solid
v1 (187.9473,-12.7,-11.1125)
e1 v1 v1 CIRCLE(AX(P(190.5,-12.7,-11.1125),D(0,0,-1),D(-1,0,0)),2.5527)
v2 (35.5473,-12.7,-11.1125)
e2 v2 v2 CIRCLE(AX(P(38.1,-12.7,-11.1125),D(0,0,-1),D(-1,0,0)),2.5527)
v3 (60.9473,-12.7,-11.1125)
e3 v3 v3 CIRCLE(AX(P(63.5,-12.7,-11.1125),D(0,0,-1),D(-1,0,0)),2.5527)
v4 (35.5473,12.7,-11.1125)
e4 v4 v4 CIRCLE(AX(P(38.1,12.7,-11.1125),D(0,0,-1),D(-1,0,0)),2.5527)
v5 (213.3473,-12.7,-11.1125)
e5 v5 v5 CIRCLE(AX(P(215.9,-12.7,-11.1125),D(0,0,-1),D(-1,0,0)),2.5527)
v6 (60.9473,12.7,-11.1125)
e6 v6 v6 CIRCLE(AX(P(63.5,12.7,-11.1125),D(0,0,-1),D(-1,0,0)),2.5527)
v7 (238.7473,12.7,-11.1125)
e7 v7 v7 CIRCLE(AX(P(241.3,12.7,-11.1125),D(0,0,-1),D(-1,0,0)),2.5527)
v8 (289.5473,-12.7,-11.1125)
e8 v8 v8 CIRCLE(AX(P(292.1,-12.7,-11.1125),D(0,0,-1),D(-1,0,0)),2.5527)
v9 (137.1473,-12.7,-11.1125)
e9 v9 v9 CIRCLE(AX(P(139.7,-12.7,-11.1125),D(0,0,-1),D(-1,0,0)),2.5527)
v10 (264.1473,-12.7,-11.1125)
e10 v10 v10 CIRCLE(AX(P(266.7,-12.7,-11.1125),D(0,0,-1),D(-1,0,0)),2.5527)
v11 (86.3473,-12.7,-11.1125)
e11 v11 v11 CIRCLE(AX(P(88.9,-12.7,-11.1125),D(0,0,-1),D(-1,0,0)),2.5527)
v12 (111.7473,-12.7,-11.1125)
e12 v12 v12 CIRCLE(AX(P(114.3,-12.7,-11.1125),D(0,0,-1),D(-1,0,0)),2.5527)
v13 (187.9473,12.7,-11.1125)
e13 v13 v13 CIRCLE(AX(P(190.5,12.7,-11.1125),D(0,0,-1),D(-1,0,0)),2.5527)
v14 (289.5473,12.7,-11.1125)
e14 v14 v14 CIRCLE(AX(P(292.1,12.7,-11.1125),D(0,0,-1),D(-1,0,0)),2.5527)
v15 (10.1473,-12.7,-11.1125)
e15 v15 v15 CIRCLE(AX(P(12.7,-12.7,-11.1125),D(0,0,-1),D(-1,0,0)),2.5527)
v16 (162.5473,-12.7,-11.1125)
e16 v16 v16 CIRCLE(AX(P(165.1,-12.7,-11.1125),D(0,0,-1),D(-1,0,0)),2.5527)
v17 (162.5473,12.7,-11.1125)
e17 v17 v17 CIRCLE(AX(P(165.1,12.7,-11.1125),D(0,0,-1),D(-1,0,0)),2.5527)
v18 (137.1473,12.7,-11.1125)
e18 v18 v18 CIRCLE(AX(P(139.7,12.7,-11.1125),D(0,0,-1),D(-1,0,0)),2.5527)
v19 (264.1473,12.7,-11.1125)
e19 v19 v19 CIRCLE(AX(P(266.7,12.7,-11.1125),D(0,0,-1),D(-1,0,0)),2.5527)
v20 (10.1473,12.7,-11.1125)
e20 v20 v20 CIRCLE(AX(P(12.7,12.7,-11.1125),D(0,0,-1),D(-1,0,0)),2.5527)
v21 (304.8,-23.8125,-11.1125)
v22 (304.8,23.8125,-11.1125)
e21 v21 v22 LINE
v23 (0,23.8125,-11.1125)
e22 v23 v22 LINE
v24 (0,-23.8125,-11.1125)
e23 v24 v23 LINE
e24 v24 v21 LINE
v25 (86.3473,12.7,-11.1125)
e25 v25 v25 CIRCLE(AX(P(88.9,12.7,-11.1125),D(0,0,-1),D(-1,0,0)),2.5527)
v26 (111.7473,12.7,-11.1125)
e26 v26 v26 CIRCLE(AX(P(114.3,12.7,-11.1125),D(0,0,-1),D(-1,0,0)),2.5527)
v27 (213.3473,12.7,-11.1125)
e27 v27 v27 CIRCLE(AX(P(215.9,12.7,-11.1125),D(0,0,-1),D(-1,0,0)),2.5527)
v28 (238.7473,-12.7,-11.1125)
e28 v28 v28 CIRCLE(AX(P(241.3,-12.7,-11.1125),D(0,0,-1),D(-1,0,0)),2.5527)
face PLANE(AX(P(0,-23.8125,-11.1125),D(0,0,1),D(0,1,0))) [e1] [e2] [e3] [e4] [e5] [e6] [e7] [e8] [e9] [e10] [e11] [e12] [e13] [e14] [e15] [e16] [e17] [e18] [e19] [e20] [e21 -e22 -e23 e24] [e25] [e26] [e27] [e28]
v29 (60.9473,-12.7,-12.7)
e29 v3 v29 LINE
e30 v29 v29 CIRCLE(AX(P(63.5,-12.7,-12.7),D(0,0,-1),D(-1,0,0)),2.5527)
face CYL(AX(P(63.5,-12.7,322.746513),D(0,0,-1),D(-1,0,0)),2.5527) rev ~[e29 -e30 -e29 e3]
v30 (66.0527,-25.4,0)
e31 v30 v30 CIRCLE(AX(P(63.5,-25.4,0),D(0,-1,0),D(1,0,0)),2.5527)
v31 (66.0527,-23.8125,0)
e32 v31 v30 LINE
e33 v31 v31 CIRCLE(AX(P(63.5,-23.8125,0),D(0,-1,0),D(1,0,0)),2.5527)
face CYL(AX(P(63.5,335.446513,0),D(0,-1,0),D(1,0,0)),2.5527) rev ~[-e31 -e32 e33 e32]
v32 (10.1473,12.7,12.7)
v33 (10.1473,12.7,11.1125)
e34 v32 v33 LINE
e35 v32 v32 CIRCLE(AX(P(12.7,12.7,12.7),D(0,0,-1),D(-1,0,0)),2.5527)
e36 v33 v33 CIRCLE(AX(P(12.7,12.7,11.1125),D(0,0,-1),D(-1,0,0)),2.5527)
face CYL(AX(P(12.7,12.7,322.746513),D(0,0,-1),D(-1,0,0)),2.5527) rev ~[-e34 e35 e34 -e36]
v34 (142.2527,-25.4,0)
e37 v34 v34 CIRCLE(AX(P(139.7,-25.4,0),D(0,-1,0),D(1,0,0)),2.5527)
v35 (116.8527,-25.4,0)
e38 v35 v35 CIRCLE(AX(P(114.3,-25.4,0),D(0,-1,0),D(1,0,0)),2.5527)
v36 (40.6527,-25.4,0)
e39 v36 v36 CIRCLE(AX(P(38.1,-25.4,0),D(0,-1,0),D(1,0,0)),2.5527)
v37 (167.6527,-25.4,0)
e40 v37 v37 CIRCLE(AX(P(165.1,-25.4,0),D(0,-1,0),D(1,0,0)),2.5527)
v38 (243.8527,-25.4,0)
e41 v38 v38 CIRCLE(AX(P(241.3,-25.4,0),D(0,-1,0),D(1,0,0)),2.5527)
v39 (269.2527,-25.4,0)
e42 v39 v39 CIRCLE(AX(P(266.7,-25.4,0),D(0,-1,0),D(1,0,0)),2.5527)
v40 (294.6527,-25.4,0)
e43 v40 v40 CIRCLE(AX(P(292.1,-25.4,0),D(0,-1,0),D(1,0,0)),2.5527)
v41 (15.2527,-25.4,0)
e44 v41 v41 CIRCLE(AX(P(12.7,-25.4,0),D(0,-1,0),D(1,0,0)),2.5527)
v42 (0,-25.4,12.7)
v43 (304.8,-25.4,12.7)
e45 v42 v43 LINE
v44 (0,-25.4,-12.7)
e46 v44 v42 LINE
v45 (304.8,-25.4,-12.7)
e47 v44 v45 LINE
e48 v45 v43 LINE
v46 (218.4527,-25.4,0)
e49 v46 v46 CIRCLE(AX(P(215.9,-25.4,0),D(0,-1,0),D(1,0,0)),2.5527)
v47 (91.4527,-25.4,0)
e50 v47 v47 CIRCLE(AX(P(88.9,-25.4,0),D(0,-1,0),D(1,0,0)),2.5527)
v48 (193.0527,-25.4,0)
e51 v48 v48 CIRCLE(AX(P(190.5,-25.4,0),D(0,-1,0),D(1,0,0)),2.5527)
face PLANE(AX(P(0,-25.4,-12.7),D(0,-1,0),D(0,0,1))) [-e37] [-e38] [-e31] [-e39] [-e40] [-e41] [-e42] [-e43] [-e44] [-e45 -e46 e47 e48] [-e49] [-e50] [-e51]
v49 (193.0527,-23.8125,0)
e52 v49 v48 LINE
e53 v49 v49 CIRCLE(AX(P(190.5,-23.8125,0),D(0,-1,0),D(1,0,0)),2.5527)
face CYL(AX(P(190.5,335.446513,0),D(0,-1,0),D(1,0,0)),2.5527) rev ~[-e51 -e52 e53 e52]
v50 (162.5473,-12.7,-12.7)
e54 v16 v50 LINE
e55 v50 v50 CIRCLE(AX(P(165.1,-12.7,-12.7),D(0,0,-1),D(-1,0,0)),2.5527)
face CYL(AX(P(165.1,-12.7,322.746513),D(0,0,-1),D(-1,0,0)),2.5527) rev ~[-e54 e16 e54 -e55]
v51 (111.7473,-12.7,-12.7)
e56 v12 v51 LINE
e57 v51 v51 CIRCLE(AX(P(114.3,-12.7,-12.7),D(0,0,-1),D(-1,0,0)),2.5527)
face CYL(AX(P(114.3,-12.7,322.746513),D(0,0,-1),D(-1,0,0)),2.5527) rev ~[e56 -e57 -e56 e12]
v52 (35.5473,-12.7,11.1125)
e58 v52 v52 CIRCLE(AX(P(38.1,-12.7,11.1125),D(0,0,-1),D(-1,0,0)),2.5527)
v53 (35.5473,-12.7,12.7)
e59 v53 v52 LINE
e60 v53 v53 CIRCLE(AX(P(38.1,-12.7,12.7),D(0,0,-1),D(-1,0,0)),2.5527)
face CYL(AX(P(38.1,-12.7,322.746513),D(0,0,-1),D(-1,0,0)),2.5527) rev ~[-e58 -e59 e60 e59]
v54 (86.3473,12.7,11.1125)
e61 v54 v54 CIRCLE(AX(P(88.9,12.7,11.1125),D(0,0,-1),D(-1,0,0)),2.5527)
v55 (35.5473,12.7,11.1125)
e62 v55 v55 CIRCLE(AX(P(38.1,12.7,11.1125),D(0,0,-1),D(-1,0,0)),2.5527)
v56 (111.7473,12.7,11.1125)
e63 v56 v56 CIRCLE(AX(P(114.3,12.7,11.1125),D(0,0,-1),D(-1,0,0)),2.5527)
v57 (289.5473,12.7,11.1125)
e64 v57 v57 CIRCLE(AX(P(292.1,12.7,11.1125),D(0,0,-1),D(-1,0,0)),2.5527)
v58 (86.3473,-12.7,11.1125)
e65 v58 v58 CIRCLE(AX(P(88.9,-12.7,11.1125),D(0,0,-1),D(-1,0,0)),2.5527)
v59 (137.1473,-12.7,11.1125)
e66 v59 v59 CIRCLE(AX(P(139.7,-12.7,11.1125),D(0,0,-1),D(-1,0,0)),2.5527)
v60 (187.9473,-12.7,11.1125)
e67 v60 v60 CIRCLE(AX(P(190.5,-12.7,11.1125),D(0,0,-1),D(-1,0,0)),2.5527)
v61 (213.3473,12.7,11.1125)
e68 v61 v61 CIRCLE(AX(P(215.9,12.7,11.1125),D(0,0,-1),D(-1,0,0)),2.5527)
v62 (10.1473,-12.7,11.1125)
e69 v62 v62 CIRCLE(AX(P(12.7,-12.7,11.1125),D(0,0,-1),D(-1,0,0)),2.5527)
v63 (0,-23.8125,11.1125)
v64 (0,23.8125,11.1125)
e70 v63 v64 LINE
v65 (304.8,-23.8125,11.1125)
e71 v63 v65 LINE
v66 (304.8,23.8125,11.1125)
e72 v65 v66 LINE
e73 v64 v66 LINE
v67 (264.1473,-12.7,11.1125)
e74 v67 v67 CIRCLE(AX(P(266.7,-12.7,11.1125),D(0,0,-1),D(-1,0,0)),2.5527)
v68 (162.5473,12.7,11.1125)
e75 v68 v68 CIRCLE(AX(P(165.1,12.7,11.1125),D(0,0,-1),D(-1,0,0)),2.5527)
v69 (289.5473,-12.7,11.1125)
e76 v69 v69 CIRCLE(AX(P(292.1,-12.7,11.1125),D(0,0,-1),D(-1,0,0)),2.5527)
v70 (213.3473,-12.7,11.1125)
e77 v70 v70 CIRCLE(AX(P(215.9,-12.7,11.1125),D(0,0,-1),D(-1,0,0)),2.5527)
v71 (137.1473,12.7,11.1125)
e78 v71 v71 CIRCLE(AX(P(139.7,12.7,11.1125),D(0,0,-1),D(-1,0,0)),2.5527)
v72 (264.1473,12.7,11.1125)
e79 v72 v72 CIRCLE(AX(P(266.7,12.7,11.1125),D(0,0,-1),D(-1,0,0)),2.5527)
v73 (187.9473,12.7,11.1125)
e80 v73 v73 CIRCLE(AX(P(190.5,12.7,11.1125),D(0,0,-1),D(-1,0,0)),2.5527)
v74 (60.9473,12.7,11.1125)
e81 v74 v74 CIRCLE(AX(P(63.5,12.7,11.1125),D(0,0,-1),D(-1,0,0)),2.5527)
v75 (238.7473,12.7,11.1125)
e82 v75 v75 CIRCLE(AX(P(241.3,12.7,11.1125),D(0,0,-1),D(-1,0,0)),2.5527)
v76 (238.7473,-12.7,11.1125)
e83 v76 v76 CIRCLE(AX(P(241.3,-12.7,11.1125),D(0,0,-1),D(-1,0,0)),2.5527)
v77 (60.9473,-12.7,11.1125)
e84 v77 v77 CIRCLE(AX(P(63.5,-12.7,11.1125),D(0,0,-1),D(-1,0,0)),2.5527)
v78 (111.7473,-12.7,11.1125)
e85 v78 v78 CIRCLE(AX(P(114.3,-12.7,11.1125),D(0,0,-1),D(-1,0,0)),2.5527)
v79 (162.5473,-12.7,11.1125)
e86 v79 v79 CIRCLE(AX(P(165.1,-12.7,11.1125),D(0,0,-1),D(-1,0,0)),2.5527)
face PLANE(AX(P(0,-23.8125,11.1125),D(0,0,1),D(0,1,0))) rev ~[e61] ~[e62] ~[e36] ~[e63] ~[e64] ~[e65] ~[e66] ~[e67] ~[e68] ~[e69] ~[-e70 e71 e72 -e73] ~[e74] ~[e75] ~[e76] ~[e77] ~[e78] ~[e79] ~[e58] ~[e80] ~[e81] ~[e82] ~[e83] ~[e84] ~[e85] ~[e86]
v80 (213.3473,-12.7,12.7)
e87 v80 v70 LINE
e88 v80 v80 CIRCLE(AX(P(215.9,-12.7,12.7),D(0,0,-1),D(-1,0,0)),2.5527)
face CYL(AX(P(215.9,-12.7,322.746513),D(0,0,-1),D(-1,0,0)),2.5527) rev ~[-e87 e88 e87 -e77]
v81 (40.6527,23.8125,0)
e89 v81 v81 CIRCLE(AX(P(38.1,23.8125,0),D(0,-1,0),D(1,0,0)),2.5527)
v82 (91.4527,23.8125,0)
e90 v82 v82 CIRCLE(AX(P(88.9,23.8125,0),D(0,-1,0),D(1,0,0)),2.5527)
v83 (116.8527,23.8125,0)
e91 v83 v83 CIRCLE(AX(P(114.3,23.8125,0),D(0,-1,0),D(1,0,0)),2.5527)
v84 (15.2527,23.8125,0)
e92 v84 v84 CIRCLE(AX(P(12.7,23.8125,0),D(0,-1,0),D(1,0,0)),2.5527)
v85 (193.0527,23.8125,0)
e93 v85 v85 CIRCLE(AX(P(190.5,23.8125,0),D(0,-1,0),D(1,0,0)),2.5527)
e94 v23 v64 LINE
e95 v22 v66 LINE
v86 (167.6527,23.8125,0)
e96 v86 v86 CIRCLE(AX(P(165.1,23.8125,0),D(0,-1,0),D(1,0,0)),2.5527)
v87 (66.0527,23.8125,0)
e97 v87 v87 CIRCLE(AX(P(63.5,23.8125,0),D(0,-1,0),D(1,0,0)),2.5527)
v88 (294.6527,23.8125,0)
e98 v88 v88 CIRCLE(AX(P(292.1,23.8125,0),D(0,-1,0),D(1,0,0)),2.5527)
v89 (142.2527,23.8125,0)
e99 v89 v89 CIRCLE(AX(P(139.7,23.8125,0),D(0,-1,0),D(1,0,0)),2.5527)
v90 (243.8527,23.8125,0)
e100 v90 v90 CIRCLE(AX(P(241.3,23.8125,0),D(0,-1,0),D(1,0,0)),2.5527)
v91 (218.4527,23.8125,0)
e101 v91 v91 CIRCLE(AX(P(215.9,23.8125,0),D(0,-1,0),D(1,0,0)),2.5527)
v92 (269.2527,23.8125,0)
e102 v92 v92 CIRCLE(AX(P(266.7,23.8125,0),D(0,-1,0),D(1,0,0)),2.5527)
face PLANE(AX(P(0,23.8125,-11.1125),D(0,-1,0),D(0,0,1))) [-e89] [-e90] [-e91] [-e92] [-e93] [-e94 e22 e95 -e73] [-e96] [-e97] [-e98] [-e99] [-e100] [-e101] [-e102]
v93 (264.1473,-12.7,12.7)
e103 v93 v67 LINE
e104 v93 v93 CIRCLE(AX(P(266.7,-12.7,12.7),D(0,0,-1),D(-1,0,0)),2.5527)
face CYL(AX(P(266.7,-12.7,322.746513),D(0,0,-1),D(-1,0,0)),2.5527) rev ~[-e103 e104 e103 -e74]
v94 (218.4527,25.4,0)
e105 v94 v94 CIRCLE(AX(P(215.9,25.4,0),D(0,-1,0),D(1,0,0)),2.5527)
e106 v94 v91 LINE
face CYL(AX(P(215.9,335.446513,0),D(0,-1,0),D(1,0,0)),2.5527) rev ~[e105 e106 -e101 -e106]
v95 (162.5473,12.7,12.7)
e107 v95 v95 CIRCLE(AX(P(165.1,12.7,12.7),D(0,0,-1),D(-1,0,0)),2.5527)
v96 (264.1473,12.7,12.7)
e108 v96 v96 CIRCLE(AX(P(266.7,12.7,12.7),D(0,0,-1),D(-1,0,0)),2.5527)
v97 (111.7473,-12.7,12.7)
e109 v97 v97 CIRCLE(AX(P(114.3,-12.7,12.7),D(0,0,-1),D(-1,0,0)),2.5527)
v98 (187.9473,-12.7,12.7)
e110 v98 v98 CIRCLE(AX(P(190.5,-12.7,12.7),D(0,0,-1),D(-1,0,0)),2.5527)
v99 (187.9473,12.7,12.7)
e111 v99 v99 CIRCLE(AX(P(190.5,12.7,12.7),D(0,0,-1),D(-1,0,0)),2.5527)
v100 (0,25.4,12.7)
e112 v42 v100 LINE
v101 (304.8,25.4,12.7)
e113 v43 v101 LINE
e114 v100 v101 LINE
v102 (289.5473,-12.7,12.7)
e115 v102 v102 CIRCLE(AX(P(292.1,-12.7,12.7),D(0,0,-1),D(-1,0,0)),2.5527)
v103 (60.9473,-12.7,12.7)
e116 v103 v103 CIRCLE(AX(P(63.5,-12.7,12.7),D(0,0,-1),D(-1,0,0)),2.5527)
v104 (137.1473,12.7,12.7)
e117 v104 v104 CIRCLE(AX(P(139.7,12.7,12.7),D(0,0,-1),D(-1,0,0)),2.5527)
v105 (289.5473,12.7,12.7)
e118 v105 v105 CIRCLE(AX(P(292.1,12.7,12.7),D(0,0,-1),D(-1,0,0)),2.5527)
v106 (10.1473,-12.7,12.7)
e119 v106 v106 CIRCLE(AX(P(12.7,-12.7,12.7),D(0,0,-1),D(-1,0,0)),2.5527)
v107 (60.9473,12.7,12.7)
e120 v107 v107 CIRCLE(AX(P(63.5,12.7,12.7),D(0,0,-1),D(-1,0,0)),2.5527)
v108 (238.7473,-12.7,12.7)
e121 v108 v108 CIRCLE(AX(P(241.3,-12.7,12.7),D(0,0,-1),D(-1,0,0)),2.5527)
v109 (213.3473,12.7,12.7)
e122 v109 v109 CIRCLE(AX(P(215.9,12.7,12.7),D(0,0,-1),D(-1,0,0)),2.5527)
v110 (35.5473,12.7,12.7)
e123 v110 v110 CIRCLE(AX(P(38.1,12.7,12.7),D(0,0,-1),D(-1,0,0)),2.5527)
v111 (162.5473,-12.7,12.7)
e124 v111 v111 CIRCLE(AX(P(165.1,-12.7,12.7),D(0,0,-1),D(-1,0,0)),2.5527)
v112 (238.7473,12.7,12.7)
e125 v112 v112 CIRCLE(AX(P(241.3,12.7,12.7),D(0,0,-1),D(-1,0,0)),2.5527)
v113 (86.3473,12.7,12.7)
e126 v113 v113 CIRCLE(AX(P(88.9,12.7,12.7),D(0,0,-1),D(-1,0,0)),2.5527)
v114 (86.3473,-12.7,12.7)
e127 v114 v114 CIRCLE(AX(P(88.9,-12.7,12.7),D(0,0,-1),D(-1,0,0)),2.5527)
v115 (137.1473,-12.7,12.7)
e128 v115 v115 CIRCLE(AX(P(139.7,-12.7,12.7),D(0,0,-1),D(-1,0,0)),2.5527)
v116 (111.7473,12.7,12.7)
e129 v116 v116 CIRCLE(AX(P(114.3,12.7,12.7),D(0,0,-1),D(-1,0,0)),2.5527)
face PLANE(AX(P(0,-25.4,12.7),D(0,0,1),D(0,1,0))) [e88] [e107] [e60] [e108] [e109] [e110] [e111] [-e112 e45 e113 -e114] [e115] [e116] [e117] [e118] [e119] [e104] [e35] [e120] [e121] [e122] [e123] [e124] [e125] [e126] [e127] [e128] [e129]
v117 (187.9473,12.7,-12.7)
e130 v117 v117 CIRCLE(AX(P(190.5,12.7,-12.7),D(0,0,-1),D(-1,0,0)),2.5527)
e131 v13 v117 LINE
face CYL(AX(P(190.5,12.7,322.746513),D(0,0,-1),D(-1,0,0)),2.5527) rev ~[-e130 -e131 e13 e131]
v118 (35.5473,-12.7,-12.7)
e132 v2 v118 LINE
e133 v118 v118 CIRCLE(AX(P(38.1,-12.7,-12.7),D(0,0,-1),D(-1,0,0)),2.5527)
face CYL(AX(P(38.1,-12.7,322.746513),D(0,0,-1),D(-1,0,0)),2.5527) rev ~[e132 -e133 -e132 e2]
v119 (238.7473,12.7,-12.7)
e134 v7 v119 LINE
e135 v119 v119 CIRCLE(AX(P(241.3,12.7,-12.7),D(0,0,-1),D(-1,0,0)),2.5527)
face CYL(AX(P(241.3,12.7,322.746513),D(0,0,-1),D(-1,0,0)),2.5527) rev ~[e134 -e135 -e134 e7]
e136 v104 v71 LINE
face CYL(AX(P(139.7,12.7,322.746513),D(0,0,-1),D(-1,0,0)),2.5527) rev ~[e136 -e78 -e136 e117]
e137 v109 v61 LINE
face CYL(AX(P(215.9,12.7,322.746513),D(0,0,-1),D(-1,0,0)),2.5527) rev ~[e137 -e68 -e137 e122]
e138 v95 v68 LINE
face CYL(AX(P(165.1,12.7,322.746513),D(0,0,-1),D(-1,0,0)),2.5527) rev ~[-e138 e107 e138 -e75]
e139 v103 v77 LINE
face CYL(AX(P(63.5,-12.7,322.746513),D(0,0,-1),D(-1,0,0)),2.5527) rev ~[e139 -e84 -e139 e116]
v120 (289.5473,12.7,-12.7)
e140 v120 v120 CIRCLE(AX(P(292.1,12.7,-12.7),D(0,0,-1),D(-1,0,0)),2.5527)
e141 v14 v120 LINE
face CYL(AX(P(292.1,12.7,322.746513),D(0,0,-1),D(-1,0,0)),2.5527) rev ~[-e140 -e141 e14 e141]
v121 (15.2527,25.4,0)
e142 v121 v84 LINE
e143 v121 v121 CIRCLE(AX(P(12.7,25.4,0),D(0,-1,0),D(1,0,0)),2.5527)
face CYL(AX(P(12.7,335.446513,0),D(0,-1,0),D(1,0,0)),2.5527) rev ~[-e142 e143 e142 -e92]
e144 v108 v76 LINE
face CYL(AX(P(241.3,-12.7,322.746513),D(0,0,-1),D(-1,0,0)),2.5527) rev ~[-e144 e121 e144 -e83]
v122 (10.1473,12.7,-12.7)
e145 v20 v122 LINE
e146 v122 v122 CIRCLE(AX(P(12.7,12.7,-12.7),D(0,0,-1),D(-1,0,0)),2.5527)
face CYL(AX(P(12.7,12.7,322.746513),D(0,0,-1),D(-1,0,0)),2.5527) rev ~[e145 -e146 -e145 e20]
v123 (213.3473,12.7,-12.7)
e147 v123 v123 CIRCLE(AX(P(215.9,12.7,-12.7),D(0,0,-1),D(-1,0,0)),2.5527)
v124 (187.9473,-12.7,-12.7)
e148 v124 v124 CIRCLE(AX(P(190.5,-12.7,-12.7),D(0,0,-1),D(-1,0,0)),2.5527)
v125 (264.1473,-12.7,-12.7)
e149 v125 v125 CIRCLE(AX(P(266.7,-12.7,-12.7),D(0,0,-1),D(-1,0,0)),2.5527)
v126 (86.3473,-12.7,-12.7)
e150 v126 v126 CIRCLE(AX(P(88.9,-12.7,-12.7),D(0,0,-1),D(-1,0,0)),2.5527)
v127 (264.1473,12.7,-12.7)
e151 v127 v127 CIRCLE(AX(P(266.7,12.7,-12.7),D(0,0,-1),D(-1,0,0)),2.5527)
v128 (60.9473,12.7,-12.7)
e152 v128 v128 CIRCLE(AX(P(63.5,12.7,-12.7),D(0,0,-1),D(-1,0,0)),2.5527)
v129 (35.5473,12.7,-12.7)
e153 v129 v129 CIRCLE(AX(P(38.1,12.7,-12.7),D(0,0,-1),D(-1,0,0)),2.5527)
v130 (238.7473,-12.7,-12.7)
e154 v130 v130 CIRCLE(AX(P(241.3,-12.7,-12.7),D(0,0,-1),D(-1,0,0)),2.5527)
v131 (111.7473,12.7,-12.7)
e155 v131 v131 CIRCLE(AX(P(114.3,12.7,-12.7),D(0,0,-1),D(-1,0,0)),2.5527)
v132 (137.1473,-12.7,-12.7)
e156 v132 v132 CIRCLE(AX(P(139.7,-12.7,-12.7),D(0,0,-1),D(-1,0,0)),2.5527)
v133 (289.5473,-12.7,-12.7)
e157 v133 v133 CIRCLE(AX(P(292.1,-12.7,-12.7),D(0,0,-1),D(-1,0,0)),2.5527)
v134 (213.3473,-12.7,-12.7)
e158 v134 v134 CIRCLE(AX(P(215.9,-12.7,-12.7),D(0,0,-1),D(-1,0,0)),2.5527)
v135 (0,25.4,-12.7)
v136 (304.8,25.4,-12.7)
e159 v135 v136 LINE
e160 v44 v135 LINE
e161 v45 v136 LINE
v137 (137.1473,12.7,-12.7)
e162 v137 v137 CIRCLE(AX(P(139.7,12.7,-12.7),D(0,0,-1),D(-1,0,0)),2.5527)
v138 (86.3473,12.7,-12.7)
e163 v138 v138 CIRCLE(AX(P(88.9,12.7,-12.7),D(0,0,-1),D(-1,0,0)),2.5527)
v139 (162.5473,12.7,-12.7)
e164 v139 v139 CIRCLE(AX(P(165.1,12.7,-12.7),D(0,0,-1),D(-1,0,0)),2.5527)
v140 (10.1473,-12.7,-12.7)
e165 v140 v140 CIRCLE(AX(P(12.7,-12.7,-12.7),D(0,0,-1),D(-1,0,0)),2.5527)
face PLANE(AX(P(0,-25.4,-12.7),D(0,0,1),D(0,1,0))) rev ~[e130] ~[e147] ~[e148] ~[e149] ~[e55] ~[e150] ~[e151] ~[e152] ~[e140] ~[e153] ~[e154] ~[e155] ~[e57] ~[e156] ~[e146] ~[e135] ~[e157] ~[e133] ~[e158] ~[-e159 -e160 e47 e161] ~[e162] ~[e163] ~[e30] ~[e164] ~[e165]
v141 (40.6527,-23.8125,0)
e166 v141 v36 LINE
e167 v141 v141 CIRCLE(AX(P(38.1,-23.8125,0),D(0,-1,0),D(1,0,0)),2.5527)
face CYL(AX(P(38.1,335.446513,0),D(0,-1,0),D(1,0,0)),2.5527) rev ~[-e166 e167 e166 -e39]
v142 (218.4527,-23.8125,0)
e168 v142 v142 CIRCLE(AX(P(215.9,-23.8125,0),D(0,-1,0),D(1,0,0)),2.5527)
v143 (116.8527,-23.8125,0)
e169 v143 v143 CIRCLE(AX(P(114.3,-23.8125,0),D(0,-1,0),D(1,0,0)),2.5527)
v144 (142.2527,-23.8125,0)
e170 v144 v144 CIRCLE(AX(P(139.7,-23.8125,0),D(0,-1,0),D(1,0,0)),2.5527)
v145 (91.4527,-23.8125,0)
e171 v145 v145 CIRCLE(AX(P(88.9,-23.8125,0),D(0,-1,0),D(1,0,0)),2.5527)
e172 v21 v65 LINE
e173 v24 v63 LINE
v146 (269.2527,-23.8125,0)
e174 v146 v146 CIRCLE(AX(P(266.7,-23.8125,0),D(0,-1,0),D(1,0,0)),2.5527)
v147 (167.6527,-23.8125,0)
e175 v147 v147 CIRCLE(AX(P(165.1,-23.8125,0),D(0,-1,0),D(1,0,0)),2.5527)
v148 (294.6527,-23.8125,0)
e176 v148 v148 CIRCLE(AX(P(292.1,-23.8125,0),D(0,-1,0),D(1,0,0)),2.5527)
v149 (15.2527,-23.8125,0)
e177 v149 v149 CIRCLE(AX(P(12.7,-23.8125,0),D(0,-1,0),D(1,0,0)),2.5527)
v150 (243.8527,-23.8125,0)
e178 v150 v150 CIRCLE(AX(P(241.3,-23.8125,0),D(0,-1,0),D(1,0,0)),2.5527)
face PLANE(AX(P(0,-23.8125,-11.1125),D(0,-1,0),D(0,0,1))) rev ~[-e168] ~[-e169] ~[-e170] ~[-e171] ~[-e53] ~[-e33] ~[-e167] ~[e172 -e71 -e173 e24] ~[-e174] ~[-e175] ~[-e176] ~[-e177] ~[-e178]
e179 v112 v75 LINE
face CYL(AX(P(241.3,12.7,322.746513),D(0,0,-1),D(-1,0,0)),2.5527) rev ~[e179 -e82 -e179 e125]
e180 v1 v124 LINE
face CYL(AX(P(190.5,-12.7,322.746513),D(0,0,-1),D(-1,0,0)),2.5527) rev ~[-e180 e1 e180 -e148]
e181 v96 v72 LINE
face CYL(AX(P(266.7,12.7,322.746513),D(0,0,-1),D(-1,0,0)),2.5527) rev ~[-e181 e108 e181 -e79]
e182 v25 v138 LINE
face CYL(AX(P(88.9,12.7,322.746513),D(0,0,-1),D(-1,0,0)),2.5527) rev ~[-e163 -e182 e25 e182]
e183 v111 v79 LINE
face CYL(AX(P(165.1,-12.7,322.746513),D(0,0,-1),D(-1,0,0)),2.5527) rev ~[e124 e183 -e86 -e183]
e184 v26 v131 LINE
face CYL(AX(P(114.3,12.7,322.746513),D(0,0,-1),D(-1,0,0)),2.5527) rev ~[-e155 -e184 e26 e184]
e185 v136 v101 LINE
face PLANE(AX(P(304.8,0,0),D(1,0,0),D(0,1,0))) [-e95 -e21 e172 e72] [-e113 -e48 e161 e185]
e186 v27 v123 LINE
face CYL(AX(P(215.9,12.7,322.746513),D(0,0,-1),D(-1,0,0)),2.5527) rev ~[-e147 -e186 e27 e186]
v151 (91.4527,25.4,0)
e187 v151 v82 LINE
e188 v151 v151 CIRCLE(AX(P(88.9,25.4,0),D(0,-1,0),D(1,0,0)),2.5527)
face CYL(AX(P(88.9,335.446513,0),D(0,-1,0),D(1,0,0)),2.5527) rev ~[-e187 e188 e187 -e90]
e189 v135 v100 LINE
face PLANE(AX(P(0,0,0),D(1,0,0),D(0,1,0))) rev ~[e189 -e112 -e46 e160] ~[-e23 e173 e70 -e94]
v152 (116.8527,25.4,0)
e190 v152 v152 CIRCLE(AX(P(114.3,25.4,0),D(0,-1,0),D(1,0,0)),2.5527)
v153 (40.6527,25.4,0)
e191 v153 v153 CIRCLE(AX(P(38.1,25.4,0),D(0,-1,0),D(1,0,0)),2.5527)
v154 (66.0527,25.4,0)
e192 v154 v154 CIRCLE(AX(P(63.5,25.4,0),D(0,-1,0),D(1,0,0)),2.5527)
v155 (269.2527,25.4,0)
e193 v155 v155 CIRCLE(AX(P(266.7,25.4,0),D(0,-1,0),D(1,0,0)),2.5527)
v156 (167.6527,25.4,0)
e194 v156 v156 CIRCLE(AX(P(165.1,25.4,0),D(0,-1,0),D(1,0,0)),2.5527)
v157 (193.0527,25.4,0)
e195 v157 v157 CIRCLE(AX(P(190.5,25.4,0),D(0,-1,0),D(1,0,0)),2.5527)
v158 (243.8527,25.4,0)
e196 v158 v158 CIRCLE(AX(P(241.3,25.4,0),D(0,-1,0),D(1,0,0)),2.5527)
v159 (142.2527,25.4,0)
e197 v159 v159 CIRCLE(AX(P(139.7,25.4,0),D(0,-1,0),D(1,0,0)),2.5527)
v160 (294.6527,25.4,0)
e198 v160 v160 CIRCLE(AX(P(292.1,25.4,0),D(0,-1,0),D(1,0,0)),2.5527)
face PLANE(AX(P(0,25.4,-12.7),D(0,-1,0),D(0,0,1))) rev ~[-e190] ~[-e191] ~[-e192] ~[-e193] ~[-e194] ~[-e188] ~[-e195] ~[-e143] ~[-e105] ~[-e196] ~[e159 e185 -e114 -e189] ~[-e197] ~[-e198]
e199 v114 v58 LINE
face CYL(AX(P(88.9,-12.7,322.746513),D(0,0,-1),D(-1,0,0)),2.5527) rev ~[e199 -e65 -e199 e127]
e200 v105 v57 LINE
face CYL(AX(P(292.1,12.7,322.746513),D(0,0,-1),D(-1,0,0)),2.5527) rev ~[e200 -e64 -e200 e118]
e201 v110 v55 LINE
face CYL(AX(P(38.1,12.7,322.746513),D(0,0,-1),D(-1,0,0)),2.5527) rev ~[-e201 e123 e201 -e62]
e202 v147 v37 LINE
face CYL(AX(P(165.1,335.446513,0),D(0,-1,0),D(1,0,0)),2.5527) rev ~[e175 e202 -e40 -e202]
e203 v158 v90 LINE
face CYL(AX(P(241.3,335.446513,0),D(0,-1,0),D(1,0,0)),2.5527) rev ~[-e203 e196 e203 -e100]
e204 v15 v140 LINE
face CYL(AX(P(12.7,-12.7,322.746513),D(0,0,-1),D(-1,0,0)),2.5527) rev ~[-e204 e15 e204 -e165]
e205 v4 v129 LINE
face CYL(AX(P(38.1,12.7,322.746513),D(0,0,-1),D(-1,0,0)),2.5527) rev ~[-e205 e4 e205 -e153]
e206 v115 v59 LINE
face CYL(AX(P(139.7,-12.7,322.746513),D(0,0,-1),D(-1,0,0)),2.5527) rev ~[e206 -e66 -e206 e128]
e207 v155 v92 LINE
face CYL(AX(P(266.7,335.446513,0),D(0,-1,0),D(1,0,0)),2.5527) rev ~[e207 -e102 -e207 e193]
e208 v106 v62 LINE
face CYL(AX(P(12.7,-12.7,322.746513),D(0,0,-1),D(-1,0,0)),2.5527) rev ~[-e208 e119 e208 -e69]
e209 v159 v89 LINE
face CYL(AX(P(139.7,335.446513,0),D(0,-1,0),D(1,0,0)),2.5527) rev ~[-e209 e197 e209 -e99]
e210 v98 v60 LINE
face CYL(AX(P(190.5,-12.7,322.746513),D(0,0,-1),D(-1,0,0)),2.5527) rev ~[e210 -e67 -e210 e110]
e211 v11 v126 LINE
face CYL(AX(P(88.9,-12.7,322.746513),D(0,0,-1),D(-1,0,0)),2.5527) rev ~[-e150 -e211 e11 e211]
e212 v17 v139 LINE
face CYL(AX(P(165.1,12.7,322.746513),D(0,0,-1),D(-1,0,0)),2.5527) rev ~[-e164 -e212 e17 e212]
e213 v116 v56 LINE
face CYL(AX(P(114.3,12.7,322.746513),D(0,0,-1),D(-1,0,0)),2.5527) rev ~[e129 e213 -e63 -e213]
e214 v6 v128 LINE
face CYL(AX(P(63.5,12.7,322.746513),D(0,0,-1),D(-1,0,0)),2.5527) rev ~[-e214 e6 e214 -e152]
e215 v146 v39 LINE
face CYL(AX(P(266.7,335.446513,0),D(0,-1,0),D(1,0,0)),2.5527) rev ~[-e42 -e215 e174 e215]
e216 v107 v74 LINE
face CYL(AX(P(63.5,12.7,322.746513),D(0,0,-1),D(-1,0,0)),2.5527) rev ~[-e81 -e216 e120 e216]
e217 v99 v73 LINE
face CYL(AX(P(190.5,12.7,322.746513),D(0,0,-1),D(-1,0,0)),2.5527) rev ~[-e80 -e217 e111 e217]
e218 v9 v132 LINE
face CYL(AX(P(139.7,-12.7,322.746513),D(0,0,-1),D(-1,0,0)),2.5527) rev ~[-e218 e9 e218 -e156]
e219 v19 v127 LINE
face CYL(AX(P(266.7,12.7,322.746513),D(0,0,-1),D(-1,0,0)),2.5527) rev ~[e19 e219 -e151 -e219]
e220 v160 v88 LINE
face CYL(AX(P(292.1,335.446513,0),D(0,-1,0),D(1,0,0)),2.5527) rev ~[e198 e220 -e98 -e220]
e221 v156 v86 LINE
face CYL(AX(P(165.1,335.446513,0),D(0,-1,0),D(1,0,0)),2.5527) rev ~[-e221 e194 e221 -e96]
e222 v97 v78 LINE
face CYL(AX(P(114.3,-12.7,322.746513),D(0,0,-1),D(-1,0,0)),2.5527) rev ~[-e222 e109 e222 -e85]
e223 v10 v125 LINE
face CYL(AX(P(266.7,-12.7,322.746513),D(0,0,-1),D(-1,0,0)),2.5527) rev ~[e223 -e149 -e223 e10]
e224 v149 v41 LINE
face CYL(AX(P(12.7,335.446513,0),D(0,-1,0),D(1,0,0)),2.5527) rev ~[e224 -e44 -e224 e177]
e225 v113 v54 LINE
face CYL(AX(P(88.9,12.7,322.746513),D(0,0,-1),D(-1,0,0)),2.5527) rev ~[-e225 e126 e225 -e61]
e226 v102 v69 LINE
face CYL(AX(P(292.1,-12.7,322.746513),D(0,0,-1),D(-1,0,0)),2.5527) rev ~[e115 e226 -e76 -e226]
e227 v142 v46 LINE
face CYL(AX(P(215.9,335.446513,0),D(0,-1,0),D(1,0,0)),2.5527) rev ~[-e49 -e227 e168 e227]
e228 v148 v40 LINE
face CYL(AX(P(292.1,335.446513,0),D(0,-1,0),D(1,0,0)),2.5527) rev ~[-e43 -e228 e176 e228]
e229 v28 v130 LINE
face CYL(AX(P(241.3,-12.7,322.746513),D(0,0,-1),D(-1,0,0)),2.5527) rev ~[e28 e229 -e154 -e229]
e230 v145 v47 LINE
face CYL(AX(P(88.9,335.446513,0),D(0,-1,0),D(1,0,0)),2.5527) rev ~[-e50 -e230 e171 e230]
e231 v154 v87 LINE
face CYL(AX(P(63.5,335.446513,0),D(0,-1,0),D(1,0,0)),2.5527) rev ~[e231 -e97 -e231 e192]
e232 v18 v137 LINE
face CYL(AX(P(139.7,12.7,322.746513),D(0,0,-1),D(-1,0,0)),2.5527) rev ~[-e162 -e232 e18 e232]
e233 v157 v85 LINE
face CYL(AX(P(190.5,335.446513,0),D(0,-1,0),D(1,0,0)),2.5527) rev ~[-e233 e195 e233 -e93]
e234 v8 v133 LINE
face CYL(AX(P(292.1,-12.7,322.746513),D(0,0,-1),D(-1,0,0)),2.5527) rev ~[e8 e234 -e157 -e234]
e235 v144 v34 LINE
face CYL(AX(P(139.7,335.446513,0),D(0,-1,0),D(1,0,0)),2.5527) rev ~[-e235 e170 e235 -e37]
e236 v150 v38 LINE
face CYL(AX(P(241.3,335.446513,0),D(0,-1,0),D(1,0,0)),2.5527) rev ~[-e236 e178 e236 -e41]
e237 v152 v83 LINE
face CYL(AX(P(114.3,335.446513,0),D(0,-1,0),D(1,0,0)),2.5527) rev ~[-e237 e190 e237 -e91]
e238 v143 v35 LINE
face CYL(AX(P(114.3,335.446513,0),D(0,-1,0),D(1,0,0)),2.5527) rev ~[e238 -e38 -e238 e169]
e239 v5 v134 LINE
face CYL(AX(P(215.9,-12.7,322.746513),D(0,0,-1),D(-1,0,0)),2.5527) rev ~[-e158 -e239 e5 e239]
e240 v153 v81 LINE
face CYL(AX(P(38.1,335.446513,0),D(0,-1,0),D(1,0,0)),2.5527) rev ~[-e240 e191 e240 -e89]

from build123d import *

# Parameters (mm, degrees)
F0_W     = 50.8
F0_H     = 25.4
F0_W_2   = 47.625
F0_H_2   = 22.225
F1_DEPTH = 304.8
F3_D     = 5.1054
F5_D     = 5.1054


with BuildPart() as f1:
    # F0 (on Right) → F1 (new body)
    with BuildSketch(Plane.YZ):
        Rectangle(F0_W, F0_H)
        Rectangle(F0_W_2, F0_H_2, mode=Mode.SUBTRACT)
    extrude(amount=F1_DEPTH)

    # F3 (through all)
    with Locations(Plane.XY.offset(12.7)):
        with Locations((38.1, -12.7), (63.5, 12.7), (63.5, -12.7), (88.9, 12.7), (88.9, -12.7), (114.3, 12.7), (292.1, -12.7), (266.7, -12.7), (241.3, -12.7), (215.9, -12.7), (190.5, -12.7), (165.1, -12.7), (292.1, 12.7), (266.7, 12.7), (241.3, 12.7), (215.9, 12.7), (114.3, -12.7), (190.5, 12.7), (139.7, 12.7), (139.7, -12.7), (165.1, 12.7), (12.7, 12.7), (12.7, -12.7), (38.1, 12.7)):
            Hole(F3_D / 2)

    # F5 (through all)
    with Locations(Plane(origin=(0, 25.4, 0), x_dir=(-1, 0, 0), z_dir=(0, 1, 0))):
        with Locations((-215.9, 0), (-241.3, 0), (-190.5, 0), (-139.7, 0), (-165.1, 0), (-88.9, 0), (-114.3, 0), (-266.7, 0), (-292.1, 0), (-12.7, 0), (-38.1, 0), (-63.5, 0)):
            Hole(F5_D / 2)


solid = f1.part
